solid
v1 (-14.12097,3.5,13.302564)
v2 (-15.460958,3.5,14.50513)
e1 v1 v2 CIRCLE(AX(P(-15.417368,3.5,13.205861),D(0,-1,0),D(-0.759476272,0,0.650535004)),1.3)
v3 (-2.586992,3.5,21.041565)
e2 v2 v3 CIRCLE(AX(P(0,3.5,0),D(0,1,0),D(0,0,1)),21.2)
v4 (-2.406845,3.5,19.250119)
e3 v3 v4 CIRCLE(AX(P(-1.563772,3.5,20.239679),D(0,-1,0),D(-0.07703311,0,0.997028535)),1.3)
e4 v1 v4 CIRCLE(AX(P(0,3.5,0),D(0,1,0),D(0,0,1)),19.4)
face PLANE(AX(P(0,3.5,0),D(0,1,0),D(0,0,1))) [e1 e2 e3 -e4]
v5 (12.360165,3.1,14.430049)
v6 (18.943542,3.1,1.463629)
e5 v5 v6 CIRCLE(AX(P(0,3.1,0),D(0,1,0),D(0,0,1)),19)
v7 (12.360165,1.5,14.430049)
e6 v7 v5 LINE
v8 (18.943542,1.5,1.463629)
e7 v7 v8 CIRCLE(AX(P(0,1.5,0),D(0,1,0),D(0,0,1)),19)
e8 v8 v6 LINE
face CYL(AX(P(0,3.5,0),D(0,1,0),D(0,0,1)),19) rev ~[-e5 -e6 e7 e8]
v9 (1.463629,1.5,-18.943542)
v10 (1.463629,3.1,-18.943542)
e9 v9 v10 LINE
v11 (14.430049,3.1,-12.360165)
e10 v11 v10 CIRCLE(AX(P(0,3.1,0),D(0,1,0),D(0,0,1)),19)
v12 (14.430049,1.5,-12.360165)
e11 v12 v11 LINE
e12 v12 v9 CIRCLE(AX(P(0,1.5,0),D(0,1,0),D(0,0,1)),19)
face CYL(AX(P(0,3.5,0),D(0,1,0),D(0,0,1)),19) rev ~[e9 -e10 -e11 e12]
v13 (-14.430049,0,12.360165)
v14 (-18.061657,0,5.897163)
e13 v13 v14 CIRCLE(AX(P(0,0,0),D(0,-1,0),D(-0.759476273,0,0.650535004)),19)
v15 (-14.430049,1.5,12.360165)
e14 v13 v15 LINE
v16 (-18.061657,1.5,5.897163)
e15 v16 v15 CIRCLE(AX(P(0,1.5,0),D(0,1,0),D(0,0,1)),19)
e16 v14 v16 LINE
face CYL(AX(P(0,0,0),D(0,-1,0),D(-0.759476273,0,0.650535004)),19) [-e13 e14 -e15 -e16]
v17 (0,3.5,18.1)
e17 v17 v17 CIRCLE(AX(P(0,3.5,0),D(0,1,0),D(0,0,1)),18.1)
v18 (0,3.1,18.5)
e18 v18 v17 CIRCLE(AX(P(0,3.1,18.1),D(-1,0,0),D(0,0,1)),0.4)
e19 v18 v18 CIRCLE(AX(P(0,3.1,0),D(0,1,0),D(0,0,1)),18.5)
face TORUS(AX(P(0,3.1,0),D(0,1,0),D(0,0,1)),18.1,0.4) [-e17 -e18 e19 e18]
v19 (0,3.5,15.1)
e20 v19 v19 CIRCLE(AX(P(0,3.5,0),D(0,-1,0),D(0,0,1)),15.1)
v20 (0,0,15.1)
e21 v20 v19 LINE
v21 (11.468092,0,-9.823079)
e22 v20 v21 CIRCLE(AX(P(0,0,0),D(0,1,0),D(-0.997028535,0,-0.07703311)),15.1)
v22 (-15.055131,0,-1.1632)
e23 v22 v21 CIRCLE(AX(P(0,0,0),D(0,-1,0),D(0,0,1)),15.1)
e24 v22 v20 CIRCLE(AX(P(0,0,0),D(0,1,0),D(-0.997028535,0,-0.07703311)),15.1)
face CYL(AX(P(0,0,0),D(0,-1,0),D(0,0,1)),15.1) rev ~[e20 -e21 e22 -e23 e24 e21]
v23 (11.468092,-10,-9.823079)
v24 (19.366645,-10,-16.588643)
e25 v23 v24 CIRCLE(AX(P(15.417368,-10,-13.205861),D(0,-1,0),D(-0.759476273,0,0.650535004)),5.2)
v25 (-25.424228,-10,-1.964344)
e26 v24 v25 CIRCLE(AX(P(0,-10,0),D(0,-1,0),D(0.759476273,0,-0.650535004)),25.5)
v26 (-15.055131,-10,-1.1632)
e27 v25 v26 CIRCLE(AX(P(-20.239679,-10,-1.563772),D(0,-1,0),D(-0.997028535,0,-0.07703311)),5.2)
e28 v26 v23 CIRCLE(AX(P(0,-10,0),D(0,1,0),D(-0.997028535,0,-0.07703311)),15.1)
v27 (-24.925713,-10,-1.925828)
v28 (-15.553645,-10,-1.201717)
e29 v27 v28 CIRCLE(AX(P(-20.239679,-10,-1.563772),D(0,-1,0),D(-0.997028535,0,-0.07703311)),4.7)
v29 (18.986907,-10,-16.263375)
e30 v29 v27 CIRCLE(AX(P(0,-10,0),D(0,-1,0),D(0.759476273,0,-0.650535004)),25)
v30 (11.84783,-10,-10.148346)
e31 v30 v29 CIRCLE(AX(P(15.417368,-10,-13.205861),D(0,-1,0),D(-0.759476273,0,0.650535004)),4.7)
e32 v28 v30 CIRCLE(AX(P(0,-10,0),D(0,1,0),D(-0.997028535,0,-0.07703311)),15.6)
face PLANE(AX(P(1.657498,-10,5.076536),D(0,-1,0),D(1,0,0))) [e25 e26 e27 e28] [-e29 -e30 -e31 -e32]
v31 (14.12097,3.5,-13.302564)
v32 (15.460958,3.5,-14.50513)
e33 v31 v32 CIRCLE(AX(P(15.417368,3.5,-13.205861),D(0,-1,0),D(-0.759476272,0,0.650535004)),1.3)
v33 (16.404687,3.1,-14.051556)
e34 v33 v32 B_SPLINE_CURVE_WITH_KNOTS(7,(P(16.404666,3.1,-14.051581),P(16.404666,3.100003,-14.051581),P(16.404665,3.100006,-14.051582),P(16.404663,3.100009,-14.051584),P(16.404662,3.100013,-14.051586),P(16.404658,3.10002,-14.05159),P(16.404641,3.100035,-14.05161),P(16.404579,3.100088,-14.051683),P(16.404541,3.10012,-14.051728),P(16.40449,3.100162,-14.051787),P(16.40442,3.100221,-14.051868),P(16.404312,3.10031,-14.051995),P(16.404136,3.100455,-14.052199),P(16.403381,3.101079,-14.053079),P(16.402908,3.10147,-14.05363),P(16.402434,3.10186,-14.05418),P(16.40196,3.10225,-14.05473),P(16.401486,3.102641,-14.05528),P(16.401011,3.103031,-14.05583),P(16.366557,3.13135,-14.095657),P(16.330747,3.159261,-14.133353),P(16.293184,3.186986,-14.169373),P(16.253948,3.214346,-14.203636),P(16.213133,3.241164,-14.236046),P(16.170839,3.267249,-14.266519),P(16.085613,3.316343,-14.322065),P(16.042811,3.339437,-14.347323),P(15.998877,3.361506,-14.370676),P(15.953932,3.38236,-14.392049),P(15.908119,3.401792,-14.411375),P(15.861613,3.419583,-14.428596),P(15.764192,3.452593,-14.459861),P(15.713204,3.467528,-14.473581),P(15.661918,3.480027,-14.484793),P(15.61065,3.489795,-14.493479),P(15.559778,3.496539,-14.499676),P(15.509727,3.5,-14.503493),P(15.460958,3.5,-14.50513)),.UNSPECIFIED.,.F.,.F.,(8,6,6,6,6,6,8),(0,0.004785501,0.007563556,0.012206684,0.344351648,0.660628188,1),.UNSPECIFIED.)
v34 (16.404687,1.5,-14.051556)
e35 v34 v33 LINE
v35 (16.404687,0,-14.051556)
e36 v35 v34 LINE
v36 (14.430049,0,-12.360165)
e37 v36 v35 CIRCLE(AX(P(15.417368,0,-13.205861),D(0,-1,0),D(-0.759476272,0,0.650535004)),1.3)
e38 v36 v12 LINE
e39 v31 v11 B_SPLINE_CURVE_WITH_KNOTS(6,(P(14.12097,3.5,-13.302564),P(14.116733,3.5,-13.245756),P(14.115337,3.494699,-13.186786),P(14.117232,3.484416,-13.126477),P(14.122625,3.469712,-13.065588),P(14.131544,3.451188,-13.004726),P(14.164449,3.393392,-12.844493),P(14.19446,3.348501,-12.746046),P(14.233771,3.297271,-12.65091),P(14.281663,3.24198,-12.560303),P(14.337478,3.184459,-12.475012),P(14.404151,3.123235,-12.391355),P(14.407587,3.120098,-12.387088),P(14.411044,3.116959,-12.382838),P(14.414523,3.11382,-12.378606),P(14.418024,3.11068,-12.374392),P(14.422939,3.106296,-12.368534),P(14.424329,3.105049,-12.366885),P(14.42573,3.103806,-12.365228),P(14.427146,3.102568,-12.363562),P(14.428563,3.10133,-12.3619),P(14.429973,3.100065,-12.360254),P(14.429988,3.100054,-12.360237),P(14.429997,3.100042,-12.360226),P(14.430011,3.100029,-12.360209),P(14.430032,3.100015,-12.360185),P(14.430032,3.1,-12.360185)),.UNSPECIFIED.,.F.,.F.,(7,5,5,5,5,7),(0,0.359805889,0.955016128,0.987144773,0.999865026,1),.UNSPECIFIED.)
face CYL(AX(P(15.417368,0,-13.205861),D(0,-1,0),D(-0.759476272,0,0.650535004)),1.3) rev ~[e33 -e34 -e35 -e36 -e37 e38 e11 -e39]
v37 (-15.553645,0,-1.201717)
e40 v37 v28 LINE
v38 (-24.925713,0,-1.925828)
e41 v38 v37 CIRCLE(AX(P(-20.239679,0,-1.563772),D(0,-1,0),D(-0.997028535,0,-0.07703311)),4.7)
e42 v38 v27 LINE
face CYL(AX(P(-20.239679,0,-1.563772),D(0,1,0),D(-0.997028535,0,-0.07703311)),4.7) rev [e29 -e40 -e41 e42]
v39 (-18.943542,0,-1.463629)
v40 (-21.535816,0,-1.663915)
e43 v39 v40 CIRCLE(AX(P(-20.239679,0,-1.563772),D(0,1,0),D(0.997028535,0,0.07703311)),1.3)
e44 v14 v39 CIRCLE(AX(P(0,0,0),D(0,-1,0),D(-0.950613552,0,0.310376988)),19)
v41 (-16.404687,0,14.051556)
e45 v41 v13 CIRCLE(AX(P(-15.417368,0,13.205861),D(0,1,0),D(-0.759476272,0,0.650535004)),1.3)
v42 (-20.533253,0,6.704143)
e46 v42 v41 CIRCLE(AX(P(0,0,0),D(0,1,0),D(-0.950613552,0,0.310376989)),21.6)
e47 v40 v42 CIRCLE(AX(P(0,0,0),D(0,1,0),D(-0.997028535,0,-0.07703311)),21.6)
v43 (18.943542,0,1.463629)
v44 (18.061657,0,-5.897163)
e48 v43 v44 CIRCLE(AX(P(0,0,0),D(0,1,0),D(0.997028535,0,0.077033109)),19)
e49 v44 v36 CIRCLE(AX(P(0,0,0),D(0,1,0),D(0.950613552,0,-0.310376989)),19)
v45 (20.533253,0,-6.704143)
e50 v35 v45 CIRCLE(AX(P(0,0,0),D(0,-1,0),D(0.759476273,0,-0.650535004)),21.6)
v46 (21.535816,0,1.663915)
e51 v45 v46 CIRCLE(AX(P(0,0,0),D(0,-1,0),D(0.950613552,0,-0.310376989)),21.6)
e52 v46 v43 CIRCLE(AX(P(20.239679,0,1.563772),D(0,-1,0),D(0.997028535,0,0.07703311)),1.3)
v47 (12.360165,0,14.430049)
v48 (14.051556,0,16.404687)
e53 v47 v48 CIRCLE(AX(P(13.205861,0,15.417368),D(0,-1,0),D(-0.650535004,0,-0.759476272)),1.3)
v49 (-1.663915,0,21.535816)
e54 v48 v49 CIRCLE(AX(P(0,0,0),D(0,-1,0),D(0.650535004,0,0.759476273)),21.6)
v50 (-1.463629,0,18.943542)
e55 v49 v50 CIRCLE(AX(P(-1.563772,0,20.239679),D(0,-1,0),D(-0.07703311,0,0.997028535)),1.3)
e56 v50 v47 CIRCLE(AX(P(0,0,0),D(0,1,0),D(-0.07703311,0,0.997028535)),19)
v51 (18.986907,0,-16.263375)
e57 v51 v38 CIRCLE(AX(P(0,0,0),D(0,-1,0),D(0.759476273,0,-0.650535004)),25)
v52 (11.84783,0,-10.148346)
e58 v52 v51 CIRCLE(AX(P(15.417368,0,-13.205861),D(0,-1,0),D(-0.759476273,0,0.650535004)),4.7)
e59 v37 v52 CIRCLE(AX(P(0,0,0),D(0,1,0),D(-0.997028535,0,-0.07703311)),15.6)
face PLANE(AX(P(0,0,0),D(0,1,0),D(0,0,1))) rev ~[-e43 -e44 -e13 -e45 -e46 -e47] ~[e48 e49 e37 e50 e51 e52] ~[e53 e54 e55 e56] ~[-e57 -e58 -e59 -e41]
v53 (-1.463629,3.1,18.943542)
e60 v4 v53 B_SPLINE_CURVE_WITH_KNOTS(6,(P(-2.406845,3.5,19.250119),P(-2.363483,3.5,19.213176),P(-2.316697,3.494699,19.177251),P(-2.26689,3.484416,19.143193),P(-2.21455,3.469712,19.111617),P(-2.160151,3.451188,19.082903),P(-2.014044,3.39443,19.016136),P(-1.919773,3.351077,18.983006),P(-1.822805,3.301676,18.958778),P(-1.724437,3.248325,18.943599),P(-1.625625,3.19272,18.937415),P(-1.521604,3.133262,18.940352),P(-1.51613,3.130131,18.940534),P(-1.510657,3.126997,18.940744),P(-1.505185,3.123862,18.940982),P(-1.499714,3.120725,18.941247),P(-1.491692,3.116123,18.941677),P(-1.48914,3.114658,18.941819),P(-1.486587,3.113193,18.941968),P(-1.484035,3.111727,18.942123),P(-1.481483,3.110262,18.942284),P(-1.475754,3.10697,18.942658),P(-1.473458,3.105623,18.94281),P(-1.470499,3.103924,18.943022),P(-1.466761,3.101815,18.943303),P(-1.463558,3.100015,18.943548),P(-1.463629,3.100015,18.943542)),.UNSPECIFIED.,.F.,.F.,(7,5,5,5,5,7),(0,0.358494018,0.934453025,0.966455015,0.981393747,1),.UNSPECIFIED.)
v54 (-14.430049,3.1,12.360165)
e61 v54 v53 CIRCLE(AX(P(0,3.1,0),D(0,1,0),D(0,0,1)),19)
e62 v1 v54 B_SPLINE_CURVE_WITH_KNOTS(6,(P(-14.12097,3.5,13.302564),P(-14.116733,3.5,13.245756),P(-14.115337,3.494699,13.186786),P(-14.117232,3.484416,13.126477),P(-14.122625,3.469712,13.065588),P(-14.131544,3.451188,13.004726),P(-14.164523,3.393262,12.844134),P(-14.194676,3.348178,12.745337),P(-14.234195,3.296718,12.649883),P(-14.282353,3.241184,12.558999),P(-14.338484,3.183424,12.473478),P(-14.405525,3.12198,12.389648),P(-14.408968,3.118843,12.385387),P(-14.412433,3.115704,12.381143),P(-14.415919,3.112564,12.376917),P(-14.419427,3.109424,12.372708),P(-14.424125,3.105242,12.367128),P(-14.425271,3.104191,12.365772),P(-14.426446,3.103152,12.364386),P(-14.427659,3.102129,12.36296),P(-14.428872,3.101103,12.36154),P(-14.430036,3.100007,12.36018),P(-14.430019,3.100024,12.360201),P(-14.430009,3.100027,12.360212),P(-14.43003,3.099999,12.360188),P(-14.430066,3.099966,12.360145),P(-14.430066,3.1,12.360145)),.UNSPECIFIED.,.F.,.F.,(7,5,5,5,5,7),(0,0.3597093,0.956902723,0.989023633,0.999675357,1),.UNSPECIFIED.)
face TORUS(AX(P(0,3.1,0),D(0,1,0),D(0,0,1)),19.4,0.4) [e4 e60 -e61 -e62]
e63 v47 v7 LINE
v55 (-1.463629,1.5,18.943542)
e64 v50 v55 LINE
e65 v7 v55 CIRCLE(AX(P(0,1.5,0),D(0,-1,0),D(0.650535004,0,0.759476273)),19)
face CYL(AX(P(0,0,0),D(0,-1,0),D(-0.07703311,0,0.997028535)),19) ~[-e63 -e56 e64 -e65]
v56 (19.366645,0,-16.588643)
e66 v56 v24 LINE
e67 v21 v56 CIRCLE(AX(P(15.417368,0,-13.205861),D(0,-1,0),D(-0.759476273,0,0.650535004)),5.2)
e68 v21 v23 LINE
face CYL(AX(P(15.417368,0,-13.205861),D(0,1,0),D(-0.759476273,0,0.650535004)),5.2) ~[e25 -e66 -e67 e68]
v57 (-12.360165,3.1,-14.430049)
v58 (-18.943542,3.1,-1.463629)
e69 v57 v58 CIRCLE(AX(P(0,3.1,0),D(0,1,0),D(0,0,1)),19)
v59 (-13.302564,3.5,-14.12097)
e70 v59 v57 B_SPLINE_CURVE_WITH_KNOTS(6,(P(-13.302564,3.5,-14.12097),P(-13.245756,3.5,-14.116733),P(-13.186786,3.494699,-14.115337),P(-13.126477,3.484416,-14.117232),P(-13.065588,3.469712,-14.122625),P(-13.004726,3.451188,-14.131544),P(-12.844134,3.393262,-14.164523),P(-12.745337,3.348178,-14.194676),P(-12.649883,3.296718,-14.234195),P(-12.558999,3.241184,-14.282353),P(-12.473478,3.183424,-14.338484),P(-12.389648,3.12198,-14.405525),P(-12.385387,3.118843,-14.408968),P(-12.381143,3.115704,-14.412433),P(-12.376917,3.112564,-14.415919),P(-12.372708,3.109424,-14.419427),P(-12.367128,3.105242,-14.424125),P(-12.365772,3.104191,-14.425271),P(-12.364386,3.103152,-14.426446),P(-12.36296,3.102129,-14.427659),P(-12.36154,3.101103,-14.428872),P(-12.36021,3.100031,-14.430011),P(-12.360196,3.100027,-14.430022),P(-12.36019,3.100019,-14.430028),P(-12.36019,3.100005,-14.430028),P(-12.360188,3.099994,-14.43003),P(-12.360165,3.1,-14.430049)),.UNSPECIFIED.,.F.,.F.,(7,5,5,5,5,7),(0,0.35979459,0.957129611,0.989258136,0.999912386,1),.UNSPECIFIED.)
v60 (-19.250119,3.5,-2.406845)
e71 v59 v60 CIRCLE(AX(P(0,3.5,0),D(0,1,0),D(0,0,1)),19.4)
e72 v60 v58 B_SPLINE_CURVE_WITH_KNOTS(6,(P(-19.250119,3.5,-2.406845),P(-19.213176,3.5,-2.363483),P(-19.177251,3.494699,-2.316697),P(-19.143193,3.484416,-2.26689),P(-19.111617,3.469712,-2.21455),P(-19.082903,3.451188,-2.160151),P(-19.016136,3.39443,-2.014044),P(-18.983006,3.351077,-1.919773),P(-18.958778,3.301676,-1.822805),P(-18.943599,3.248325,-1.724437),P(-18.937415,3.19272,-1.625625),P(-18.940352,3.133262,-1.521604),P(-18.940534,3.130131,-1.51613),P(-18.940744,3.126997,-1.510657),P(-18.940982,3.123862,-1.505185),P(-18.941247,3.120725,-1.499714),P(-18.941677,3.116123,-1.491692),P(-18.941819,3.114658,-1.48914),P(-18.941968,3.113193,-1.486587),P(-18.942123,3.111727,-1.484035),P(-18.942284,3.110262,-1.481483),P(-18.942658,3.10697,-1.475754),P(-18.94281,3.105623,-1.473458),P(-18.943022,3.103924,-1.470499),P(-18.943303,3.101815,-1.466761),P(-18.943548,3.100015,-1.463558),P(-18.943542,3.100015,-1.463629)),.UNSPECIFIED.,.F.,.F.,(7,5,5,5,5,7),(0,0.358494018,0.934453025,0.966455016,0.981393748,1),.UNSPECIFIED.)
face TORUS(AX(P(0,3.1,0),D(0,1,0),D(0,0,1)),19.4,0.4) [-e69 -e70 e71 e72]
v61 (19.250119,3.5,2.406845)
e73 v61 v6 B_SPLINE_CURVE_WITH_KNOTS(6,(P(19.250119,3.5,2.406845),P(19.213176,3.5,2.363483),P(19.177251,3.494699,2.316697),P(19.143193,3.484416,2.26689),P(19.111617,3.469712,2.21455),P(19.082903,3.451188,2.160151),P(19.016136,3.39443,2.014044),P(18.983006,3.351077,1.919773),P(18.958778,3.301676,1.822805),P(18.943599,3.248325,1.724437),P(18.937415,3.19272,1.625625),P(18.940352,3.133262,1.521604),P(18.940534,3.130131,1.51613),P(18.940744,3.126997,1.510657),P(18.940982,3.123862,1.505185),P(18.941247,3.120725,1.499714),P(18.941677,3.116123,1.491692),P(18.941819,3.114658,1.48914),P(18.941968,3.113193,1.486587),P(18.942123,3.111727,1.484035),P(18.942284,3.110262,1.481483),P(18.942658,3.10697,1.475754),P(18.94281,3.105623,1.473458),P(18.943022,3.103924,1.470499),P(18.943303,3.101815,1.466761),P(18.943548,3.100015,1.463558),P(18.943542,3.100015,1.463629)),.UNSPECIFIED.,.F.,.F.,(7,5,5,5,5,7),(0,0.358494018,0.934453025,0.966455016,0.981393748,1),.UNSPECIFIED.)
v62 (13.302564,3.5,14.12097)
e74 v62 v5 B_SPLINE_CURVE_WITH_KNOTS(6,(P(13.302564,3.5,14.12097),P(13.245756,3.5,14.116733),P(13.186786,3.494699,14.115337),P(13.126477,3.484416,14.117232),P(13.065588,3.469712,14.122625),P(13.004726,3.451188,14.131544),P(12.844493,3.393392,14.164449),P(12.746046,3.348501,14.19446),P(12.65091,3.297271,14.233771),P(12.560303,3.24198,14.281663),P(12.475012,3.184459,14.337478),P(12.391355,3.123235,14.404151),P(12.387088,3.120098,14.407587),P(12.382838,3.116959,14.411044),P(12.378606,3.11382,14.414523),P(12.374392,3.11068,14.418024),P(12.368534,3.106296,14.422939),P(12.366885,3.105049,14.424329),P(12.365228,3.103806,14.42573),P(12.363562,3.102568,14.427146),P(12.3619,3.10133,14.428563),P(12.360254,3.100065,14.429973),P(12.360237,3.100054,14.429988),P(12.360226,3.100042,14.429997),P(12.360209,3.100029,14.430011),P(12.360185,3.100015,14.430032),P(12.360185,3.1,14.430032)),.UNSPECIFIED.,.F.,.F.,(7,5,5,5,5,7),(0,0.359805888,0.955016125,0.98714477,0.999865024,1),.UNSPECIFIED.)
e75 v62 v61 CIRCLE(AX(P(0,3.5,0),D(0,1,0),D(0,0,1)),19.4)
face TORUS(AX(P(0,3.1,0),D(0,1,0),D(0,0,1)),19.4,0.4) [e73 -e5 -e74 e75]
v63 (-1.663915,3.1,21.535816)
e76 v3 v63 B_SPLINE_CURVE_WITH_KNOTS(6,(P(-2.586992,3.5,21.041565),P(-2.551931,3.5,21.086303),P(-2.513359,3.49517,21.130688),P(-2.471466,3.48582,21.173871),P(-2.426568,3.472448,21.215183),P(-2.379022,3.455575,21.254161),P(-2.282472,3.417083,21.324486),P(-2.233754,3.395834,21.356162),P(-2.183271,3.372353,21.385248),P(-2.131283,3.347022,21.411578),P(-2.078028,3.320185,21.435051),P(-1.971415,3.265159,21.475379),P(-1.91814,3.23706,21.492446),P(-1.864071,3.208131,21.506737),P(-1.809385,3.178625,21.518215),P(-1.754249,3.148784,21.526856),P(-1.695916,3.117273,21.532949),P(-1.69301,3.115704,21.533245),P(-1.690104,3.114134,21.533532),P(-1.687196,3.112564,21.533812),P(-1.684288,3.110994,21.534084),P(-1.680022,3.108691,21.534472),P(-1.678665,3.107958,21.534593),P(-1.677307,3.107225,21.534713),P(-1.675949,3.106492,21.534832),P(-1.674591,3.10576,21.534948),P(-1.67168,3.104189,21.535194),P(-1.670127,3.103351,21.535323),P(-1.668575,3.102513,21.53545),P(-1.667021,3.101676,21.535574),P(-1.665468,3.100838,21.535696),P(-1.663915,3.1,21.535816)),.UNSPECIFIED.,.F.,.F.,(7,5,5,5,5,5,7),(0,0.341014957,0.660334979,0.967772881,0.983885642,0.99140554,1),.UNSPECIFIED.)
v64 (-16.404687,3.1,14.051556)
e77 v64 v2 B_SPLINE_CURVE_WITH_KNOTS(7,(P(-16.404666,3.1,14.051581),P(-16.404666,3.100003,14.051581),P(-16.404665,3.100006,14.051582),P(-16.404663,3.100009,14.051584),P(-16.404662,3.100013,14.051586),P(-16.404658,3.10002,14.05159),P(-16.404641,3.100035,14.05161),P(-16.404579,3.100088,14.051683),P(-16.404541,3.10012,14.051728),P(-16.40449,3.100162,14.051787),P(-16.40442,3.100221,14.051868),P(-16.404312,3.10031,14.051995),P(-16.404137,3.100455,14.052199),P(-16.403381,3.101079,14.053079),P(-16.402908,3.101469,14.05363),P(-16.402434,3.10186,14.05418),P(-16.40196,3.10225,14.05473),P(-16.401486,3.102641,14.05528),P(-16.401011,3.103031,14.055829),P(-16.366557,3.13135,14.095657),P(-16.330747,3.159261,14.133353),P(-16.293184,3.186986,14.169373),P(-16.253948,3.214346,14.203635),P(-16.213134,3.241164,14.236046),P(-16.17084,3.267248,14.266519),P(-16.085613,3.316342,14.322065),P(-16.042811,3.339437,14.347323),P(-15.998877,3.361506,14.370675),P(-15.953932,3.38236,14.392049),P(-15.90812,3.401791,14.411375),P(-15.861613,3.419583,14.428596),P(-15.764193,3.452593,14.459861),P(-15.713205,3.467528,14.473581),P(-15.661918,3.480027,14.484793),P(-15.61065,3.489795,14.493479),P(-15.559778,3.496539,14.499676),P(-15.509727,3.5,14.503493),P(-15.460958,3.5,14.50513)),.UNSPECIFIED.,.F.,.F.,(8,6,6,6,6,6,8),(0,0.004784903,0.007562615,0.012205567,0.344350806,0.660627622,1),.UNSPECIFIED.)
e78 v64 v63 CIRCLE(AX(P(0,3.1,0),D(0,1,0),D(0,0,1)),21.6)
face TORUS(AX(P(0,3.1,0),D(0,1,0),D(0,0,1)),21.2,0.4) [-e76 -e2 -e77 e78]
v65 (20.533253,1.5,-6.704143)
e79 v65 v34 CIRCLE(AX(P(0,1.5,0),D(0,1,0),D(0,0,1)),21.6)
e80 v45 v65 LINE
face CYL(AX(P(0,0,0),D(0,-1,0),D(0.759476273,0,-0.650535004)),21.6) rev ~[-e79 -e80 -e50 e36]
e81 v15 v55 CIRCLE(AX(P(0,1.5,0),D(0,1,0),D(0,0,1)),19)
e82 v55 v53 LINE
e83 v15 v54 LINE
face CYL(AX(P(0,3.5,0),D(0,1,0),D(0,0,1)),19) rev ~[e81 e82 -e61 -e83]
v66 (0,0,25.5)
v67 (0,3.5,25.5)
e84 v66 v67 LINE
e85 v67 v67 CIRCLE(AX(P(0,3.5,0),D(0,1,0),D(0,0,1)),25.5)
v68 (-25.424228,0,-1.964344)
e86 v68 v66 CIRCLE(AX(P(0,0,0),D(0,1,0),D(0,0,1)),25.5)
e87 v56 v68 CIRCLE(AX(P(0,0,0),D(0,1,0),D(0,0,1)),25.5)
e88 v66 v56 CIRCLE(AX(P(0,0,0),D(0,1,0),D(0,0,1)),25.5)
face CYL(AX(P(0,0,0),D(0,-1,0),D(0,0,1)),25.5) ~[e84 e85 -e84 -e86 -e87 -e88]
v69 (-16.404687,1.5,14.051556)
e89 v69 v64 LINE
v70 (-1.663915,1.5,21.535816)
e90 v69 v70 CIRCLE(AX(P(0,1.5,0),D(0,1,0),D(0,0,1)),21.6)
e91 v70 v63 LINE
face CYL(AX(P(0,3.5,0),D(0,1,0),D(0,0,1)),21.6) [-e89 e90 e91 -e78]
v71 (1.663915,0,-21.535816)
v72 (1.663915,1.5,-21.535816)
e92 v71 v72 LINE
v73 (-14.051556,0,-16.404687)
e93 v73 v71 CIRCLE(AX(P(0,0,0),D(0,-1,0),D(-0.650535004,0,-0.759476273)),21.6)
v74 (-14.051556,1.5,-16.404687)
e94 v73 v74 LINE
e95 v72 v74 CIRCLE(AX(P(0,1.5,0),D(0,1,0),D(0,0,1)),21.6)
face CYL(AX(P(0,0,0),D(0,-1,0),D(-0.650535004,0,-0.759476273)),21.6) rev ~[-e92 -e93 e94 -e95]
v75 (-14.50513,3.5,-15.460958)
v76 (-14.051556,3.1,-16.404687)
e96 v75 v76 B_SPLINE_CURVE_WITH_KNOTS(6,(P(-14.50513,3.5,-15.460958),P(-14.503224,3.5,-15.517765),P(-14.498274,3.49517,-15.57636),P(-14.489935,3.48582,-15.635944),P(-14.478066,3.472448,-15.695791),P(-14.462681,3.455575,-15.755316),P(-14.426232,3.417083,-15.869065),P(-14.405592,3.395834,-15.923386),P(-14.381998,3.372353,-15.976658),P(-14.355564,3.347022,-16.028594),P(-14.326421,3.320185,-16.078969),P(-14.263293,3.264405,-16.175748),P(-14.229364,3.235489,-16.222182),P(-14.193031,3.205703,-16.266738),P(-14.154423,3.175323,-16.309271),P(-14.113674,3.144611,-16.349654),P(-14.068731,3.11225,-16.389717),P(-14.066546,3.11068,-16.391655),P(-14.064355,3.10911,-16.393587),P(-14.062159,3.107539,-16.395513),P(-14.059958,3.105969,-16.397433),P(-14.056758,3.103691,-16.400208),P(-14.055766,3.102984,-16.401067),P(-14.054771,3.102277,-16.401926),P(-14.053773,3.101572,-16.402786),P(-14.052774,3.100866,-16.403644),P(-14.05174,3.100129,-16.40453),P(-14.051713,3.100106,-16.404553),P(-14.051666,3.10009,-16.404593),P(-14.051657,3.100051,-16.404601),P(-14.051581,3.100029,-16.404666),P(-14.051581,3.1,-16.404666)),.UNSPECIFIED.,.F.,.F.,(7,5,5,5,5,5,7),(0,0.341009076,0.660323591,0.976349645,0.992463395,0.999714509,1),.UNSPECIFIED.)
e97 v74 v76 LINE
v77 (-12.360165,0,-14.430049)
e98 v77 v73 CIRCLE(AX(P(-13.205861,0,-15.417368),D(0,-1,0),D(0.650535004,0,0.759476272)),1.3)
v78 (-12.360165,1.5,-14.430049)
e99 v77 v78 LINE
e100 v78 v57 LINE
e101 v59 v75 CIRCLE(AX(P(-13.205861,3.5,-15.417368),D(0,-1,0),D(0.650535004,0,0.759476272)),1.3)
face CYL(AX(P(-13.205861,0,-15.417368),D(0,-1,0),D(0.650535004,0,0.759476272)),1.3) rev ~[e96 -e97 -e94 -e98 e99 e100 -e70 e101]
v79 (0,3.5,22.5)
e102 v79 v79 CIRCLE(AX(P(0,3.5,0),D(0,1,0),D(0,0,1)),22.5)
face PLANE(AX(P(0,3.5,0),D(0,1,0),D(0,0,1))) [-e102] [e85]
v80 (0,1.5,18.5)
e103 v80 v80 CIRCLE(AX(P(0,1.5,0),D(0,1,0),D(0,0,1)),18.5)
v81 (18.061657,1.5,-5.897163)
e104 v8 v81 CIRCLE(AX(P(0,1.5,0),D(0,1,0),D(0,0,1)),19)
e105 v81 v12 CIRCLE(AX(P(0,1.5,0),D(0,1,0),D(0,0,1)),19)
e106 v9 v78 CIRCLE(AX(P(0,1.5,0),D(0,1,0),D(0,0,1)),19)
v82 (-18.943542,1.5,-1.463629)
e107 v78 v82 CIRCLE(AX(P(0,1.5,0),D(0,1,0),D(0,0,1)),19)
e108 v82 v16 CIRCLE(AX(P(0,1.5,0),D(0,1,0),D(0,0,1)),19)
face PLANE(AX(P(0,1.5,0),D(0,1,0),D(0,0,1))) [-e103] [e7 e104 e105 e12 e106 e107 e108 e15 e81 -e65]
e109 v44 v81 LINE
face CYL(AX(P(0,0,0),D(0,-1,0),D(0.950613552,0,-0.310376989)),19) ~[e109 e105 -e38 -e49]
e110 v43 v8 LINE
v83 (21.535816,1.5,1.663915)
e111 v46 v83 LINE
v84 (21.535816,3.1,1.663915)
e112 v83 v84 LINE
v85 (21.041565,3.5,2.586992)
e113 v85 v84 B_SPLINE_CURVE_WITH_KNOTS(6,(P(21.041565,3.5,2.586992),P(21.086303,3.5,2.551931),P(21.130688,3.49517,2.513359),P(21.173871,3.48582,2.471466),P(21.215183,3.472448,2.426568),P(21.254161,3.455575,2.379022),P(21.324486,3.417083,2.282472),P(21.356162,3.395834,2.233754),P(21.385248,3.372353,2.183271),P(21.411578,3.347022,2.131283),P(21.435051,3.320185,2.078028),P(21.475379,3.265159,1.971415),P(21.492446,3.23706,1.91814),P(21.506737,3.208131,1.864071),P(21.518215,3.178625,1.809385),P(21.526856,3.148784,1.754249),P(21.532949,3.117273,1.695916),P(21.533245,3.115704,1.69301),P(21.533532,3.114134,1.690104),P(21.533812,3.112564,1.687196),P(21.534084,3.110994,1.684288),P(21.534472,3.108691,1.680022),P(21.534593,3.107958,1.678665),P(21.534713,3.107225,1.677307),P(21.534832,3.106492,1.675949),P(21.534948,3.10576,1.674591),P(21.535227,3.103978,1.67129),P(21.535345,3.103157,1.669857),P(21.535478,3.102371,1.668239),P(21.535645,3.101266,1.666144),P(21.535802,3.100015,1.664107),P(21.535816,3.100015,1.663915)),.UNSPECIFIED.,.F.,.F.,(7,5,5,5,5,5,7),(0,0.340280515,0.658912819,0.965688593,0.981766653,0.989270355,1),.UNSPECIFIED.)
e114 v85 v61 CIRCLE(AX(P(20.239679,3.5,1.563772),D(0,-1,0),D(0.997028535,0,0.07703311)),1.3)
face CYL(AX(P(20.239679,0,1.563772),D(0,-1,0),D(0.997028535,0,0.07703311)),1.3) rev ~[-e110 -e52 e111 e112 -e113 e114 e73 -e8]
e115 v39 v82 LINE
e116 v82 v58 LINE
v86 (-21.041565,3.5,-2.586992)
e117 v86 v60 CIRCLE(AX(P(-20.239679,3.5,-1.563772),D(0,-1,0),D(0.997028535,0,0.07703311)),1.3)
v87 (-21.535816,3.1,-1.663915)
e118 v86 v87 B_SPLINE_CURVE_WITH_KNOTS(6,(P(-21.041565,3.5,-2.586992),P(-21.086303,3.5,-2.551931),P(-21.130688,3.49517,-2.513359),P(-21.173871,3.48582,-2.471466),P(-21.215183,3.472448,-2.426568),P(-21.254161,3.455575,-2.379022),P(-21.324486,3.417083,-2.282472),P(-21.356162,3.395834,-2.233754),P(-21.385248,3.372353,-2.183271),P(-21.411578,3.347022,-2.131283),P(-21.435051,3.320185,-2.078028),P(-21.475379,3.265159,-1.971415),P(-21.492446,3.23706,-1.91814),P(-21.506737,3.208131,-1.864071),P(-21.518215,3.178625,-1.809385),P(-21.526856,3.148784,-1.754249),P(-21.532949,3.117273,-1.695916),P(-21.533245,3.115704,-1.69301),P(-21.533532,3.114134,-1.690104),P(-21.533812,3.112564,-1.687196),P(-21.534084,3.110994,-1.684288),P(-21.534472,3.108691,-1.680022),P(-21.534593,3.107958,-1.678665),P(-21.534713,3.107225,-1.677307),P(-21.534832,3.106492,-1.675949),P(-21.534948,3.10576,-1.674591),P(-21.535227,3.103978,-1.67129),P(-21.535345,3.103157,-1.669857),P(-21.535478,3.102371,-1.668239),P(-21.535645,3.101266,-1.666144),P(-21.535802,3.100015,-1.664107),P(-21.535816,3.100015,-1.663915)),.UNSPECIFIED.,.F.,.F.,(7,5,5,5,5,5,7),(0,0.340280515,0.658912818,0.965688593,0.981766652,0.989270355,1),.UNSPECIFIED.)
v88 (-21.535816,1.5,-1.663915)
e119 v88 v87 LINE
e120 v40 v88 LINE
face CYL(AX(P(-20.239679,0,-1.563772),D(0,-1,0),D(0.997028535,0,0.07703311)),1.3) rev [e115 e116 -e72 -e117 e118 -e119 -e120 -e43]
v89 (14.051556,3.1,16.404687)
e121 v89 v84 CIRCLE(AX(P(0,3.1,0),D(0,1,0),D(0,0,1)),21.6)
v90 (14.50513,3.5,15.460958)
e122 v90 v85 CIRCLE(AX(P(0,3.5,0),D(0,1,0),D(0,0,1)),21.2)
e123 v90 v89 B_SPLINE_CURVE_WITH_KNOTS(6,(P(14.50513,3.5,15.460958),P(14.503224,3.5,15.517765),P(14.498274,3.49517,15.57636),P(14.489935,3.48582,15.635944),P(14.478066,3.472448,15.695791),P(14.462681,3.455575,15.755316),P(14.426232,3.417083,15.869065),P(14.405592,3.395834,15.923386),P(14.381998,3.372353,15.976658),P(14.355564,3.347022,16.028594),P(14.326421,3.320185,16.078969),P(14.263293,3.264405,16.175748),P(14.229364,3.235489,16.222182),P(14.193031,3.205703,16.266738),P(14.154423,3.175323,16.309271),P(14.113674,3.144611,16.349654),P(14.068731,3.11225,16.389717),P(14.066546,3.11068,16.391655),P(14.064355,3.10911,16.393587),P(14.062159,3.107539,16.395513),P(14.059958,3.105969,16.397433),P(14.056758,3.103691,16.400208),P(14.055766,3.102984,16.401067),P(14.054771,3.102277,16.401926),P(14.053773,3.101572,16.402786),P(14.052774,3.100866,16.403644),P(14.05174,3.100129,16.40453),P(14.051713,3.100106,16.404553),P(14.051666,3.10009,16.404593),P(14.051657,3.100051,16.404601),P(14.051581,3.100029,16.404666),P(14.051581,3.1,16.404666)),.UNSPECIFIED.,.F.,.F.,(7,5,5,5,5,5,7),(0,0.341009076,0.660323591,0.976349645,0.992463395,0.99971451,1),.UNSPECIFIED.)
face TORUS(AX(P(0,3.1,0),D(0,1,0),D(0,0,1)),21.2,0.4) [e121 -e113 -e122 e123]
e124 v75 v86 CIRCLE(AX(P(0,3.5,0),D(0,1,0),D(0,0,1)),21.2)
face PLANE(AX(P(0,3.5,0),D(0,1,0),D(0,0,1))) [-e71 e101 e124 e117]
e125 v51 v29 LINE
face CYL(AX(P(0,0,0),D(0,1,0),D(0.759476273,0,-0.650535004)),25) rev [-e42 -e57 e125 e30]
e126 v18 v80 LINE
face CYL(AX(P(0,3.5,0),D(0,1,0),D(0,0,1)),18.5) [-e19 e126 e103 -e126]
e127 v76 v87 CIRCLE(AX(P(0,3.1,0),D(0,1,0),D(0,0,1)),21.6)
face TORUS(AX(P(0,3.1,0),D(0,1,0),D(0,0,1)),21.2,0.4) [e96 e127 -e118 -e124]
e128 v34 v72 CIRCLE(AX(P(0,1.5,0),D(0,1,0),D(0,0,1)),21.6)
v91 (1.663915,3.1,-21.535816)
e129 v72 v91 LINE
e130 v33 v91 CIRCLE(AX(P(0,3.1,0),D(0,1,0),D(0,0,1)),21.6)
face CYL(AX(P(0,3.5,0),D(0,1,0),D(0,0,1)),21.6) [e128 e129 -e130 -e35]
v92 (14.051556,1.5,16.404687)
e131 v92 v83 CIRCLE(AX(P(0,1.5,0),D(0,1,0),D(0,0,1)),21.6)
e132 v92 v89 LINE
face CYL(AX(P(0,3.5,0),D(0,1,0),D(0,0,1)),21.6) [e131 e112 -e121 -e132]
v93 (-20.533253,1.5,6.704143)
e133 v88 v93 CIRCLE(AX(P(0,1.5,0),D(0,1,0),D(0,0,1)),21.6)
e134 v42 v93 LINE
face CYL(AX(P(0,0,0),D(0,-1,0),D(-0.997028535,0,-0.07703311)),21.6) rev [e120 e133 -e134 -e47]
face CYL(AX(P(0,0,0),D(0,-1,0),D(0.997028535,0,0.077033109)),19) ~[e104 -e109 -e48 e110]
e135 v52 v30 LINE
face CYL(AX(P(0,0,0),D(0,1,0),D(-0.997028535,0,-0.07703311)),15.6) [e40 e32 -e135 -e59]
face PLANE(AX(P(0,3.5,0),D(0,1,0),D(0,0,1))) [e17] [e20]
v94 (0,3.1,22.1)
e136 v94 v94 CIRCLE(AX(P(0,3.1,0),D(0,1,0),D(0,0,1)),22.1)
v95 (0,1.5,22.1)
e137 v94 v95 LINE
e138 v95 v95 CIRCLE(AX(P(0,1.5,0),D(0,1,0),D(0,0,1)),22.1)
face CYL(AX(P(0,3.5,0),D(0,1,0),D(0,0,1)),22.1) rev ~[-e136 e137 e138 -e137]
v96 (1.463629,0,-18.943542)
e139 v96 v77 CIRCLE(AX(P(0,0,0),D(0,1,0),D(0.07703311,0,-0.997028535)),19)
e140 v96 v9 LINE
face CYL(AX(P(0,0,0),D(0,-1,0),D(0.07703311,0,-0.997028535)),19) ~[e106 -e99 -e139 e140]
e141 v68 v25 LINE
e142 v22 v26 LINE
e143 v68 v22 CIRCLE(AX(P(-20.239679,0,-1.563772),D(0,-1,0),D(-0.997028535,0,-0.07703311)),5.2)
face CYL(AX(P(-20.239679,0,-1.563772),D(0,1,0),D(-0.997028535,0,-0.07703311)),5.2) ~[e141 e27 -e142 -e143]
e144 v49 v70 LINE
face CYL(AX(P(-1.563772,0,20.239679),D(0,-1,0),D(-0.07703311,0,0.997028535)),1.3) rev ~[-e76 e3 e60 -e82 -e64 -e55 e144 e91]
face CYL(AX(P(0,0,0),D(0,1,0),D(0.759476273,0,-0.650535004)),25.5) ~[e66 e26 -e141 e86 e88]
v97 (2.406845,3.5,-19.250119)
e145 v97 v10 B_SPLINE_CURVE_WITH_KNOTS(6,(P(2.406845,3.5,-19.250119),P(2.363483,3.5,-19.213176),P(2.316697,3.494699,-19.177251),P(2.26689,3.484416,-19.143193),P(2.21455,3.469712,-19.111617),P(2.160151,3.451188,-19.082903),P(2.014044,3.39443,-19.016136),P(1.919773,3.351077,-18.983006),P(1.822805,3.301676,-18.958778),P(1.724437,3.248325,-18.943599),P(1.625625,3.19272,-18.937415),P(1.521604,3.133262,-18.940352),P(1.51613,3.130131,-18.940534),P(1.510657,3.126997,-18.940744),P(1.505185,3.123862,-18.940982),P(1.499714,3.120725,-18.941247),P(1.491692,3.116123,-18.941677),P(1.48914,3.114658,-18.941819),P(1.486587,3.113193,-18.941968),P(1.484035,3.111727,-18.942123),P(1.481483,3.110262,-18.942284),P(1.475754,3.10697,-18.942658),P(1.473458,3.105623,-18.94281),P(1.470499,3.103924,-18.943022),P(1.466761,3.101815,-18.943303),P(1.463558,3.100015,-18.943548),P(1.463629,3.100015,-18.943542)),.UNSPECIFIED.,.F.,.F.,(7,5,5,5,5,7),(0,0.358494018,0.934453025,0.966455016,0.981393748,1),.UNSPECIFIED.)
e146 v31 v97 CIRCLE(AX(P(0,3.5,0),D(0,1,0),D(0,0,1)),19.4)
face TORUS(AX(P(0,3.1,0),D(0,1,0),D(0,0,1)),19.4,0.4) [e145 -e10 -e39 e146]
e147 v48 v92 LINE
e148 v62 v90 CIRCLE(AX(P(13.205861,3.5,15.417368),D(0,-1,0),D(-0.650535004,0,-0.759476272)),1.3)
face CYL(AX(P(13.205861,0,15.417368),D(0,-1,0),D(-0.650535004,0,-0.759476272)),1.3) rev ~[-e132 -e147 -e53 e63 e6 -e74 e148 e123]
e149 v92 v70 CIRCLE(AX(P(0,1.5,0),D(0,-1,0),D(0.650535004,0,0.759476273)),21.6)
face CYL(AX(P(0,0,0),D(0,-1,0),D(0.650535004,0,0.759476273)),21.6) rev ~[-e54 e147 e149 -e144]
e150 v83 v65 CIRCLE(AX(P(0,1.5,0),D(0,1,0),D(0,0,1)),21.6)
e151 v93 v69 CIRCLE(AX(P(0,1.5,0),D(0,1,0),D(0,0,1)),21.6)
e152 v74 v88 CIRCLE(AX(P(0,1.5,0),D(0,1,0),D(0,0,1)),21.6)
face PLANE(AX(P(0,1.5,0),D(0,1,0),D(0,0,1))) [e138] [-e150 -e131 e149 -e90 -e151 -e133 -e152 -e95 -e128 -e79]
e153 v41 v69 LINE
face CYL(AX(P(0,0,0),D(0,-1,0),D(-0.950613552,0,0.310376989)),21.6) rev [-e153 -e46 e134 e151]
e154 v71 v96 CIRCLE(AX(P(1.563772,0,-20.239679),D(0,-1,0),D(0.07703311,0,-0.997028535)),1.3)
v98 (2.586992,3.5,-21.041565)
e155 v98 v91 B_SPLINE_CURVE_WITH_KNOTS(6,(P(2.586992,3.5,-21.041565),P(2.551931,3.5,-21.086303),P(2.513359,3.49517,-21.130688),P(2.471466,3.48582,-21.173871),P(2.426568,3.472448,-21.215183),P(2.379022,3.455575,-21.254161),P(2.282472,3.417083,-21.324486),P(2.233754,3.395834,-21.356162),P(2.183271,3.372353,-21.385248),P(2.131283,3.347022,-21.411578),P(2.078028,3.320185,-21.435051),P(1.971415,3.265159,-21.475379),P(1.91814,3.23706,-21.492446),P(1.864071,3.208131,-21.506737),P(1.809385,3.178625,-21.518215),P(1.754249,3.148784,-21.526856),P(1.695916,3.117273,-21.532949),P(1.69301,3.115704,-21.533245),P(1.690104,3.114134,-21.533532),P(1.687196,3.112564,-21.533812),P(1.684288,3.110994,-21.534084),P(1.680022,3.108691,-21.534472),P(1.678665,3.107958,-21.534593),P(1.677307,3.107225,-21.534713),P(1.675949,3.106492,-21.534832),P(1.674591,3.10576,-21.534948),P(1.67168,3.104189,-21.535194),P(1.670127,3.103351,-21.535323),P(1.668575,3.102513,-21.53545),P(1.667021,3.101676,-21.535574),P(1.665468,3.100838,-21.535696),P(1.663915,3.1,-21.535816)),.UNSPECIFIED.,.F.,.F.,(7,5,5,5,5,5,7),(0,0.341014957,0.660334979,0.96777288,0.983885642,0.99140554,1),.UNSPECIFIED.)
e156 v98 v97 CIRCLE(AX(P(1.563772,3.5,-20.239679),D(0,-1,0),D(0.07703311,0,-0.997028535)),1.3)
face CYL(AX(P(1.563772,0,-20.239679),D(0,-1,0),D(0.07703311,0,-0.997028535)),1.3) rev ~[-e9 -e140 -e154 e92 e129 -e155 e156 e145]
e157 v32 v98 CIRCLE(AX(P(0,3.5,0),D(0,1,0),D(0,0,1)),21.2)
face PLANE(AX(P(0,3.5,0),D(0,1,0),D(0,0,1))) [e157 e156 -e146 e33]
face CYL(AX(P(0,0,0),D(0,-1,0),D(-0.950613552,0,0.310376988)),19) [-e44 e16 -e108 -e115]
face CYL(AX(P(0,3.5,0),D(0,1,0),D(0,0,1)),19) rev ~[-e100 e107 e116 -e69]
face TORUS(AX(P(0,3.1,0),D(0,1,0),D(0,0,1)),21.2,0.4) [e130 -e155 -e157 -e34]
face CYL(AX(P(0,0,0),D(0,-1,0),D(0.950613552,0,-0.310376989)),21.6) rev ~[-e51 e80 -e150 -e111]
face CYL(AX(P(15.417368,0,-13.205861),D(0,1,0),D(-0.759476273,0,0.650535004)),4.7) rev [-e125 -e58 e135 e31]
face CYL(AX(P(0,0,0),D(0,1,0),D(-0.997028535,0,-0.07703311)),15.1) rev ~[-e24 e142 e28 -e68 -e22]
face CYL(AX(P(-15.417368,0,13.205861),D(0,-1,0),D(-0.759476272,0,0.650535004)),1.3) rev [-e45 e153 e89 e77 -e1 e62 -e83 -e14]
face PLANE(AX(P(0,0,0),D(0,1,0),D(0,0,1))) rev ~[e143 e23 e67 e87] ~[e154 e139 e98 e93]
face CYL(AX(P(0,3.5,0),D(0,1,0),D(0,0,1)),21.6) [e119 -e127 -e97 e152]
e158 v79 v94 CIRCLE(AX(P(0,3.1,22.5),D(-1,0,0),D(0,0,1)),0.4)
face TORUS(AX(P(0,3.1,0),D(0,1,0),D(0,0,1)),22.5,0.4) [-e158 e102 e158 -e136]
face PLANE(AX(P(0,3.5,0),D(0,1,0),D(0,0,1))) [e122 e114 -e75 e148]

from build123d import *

# Parameters (mm, degrees)
SKETCH_1_R          = 25.5
EXTRUDE_1_DEPTH     = 3.5
SKETCH_2_R          = 19
SKETCH_2_R_2        = 18.5
CUT_EXTRUDE_1_DEPTH = 2
SKETCH_3_R          = 22.1
SKETCH_3_R_2        = 21.6
CUT_EXTRUDE_2_DEPTH = 2
FILLET_1_R          = 0.4
CUT_EXTRUDE_5_DEPTH = 37.231892039
EXTRUDE_2_DEPTH     = 10
SKETCH_6_R          = 15.1
CUT_EXTRUDE_6_DEPTH = 10


with BuildPart() as part:
    # 草图1 → 凸台-拉伸1 (new body)
    with BuildSketch(Plane(origin=(0, 0, 0), x_dir=(1, 0, 0), z_dir=(0, 1, 0))):
        with Locations(Location((0, 0, 0), (0, 0, 270))):
            Circle(SKETCH_1_R)
    extrude(amount=EXTRUDE_1_DEPTH)

    # 草图2 → 切除-拉伸1 (cut)
    with BuildSketch(Plane(origin=(0, 3.5, 0), x_dir=(1, 0, 0), z_dir=(0, 1, 0))):
        with Locations(Location((0, 0, 0), (0, 0, 270))):
            Circle(SKETCH_2_R)
        with Locations(Location((0, 0, 0), (0, 0, 270))):
            Circle(SKETCH_2_R_2, mode=Mode.SUBTRACT)
    extrude(amount=-CUT_EXTRUDE_1_DEPTH, mode=Mode.SUBTRACT)

    # 草图3 → 切除-拉伸2 (cut)
    with BuildSketch(Plane(origin=(0, 3.5, 0), x_dir=(1, 0, 0), z_dir=(0, 1, 0))):
        with Locations(Location((0, 0, 0), (0, 0, 270))):
            Circle(SKETCH_3_R)
        with Locations(Location((0, 0, 0), (0, 0, 270))):
            Circle(SKETCH_3_R_2, mode=Mode.SUBTRACT)
    extrude(amount=-CUT_EXTRUDE_2_DEPTH, mode=Mode.SUBTRACT)

    # 圆角1
    fillet_1_edges = [part.edges().sort_by_distance(p)[0] for p in [
        (0, 3.5, -22.1),
        (0, 3.5, -21.6),
        (0, 3.5, -19),
        (0, 3.5, -18.5),
    ]]
    fillet(fillet_1_edges, radius=FILLET_1_R)

    # 草图4 → 切除-拉伸5 (cut, through all)
    with BuildSketch(Plane.XZ):
        with BuildLine():
            ThreePointArc((-18.061657485, 5.897162783), (-18.865087187, 2.260195878), (-18.943542169, -1.463629086))
            ThreePointArc((-18.943542169, -1.463629086), (-20.139536222, -2.859909224), (-21.53581636, -1.663915171))
            ThreePointArc((-21.53581636, -1.663915171), (-21.446625434, 2.569485841), (-20.53325272, 6.704142953))
            ThreePointArc((-20.53325272, 6.704142953), (-18.830798619, 10.581163611), (-16.404687488, 14.051556086))
            ThreePointArc((-16.404687488, 14.051556086), (-14.571672828, 14.193179735), (-14.430049179, 12.360165075))
            ThreePointArc((-14.430049179, 12.360165075), (-16.564128415, 9.307505028), (-18.061657485, 5.897162783))
        make_face()
        with BuildLine():
            ThreePointArc((-1.663915171, 21.53581636), (-2.859909224, 20.139536222), (-1.463629086, 18.943542169))
            ThreePointArc((-1.463629086, 18.943542169), (5.897162783, 18.061657485), (12.360165075, 14.430049179))
            ThreePointArc((12.360165075, 14.430049179), (14.193179735, 14.571672828), (14.051556086, 16.404687488))
            ThreePointArc((14.051556086, 16.404687488), (6.704142953, 20.53325272), (-1.663915171, 21.53581636))
        make_face()
        with BuildLine():
            ThreePointArc((21.53581636, 1.663915171), (20.139536222, 2.859909224), (18.943542169, 1.463629086))
            ThreePointArc((18.943542169, 1.463629086), (18.865087187, -2.260195878), (18.061657485, -5.897162783))
            ThreePointArc((18.061657485, -5.897162783), (16.564128415, -9.307505028), (14.430049179, -12.360165075))
            ThreePointArc((14.430049179, -12.360165075), (14.571672828, -14.193179735), (16.404687488, -14.051556086))
            ThreePointArc((16.404687488, -14.051556086), (18.830798619, -10.581163611), (20.53325272, -6.704142953))
            ThreePointArc((20.53325272, -6.704142953), (21.446625434, -2.569485841), (21.53581636, 1.663915171))
        make_face()
        with BuildLine():
            ThreePointArc((1.663915171, -21.53581636), (2.859909224, -20.139536222), (1.463629086, -18.943542169))
            ThreePointArc((1.463629086, -18.943542169), (-5.897162783, -18.061657485), (-12.360165075, -14.430049179))
            ThreePointArc((-12.360165075, -14.430049179), (-14.193179735, -14.571672828), (-14.051556086, -16.404687488))
            ThreePointArc((-14.051556086, -16.404687488), (-6.704142953, -20.53325272), (1.663915171, -21.53581636))
        make_face()
    extrude(amount=-CUT_EXTRUDE_5_DEPTH, mode=Mode.SUBTRACT)

    # 草图5 → 凸台-拉伸2 (add)
    with BuildSketch(Plane.XZ):
        with BuildLine():
            ThreePointArc((19.366644951, -16.588642601), (7.914613208, 24.240645572), (-25.424227648, -1.964344299))
            ThreePointArc((-25.424227648, -1.964344299), (-19.839107094, -6.748320512), (-15.055130881, -1.163199958))
            ThreePointArc((-15.055130881, -1.163199958), (4.686692527, 14.354264633), (11.468091716, -9.82307856))
            ThreePointArc((11.468091716, -9.82307856), (12.034586313, -17.155137198), (19.366644951, -16.588642601))
        make_face()
        with BuildLine():
            ThreePointArc((18.986906814, -16.263375099), (7.759424714, 23.765338796), (-24.92571338, -1.925827745))
            ThreePointArc((-24.92571338, -1.925827745), (-19.877623649, -6.249806244), (-15.553645149, -1.201716513))
            ThreePointArc((-15.553645149, -1.201716513), (4.841881022, 14.829571409), (11.847829852, -10.148346062))
            ThreePointArc((11.847829852, -10.148346062), (12.359853815, -16.775399062), (18.986906814, -16.263375099))
        make_face(mode=Mode.SUBTRACT)
    extrude(amount=EXTRUDE_2_DEPTH)

    # 草图6 → 切除-拉伸6 (cut)
    with BuildSketch(Plane.XZ):
        with Locations(Location((0, 0, 0), (0, 0, 90))):
            Circle(SKETCH_6_R)
    extrude(amount=-CUT_EXTRUDE_6_DEPTH, mode=Mode.SUBTRACT)


solid = part.part
